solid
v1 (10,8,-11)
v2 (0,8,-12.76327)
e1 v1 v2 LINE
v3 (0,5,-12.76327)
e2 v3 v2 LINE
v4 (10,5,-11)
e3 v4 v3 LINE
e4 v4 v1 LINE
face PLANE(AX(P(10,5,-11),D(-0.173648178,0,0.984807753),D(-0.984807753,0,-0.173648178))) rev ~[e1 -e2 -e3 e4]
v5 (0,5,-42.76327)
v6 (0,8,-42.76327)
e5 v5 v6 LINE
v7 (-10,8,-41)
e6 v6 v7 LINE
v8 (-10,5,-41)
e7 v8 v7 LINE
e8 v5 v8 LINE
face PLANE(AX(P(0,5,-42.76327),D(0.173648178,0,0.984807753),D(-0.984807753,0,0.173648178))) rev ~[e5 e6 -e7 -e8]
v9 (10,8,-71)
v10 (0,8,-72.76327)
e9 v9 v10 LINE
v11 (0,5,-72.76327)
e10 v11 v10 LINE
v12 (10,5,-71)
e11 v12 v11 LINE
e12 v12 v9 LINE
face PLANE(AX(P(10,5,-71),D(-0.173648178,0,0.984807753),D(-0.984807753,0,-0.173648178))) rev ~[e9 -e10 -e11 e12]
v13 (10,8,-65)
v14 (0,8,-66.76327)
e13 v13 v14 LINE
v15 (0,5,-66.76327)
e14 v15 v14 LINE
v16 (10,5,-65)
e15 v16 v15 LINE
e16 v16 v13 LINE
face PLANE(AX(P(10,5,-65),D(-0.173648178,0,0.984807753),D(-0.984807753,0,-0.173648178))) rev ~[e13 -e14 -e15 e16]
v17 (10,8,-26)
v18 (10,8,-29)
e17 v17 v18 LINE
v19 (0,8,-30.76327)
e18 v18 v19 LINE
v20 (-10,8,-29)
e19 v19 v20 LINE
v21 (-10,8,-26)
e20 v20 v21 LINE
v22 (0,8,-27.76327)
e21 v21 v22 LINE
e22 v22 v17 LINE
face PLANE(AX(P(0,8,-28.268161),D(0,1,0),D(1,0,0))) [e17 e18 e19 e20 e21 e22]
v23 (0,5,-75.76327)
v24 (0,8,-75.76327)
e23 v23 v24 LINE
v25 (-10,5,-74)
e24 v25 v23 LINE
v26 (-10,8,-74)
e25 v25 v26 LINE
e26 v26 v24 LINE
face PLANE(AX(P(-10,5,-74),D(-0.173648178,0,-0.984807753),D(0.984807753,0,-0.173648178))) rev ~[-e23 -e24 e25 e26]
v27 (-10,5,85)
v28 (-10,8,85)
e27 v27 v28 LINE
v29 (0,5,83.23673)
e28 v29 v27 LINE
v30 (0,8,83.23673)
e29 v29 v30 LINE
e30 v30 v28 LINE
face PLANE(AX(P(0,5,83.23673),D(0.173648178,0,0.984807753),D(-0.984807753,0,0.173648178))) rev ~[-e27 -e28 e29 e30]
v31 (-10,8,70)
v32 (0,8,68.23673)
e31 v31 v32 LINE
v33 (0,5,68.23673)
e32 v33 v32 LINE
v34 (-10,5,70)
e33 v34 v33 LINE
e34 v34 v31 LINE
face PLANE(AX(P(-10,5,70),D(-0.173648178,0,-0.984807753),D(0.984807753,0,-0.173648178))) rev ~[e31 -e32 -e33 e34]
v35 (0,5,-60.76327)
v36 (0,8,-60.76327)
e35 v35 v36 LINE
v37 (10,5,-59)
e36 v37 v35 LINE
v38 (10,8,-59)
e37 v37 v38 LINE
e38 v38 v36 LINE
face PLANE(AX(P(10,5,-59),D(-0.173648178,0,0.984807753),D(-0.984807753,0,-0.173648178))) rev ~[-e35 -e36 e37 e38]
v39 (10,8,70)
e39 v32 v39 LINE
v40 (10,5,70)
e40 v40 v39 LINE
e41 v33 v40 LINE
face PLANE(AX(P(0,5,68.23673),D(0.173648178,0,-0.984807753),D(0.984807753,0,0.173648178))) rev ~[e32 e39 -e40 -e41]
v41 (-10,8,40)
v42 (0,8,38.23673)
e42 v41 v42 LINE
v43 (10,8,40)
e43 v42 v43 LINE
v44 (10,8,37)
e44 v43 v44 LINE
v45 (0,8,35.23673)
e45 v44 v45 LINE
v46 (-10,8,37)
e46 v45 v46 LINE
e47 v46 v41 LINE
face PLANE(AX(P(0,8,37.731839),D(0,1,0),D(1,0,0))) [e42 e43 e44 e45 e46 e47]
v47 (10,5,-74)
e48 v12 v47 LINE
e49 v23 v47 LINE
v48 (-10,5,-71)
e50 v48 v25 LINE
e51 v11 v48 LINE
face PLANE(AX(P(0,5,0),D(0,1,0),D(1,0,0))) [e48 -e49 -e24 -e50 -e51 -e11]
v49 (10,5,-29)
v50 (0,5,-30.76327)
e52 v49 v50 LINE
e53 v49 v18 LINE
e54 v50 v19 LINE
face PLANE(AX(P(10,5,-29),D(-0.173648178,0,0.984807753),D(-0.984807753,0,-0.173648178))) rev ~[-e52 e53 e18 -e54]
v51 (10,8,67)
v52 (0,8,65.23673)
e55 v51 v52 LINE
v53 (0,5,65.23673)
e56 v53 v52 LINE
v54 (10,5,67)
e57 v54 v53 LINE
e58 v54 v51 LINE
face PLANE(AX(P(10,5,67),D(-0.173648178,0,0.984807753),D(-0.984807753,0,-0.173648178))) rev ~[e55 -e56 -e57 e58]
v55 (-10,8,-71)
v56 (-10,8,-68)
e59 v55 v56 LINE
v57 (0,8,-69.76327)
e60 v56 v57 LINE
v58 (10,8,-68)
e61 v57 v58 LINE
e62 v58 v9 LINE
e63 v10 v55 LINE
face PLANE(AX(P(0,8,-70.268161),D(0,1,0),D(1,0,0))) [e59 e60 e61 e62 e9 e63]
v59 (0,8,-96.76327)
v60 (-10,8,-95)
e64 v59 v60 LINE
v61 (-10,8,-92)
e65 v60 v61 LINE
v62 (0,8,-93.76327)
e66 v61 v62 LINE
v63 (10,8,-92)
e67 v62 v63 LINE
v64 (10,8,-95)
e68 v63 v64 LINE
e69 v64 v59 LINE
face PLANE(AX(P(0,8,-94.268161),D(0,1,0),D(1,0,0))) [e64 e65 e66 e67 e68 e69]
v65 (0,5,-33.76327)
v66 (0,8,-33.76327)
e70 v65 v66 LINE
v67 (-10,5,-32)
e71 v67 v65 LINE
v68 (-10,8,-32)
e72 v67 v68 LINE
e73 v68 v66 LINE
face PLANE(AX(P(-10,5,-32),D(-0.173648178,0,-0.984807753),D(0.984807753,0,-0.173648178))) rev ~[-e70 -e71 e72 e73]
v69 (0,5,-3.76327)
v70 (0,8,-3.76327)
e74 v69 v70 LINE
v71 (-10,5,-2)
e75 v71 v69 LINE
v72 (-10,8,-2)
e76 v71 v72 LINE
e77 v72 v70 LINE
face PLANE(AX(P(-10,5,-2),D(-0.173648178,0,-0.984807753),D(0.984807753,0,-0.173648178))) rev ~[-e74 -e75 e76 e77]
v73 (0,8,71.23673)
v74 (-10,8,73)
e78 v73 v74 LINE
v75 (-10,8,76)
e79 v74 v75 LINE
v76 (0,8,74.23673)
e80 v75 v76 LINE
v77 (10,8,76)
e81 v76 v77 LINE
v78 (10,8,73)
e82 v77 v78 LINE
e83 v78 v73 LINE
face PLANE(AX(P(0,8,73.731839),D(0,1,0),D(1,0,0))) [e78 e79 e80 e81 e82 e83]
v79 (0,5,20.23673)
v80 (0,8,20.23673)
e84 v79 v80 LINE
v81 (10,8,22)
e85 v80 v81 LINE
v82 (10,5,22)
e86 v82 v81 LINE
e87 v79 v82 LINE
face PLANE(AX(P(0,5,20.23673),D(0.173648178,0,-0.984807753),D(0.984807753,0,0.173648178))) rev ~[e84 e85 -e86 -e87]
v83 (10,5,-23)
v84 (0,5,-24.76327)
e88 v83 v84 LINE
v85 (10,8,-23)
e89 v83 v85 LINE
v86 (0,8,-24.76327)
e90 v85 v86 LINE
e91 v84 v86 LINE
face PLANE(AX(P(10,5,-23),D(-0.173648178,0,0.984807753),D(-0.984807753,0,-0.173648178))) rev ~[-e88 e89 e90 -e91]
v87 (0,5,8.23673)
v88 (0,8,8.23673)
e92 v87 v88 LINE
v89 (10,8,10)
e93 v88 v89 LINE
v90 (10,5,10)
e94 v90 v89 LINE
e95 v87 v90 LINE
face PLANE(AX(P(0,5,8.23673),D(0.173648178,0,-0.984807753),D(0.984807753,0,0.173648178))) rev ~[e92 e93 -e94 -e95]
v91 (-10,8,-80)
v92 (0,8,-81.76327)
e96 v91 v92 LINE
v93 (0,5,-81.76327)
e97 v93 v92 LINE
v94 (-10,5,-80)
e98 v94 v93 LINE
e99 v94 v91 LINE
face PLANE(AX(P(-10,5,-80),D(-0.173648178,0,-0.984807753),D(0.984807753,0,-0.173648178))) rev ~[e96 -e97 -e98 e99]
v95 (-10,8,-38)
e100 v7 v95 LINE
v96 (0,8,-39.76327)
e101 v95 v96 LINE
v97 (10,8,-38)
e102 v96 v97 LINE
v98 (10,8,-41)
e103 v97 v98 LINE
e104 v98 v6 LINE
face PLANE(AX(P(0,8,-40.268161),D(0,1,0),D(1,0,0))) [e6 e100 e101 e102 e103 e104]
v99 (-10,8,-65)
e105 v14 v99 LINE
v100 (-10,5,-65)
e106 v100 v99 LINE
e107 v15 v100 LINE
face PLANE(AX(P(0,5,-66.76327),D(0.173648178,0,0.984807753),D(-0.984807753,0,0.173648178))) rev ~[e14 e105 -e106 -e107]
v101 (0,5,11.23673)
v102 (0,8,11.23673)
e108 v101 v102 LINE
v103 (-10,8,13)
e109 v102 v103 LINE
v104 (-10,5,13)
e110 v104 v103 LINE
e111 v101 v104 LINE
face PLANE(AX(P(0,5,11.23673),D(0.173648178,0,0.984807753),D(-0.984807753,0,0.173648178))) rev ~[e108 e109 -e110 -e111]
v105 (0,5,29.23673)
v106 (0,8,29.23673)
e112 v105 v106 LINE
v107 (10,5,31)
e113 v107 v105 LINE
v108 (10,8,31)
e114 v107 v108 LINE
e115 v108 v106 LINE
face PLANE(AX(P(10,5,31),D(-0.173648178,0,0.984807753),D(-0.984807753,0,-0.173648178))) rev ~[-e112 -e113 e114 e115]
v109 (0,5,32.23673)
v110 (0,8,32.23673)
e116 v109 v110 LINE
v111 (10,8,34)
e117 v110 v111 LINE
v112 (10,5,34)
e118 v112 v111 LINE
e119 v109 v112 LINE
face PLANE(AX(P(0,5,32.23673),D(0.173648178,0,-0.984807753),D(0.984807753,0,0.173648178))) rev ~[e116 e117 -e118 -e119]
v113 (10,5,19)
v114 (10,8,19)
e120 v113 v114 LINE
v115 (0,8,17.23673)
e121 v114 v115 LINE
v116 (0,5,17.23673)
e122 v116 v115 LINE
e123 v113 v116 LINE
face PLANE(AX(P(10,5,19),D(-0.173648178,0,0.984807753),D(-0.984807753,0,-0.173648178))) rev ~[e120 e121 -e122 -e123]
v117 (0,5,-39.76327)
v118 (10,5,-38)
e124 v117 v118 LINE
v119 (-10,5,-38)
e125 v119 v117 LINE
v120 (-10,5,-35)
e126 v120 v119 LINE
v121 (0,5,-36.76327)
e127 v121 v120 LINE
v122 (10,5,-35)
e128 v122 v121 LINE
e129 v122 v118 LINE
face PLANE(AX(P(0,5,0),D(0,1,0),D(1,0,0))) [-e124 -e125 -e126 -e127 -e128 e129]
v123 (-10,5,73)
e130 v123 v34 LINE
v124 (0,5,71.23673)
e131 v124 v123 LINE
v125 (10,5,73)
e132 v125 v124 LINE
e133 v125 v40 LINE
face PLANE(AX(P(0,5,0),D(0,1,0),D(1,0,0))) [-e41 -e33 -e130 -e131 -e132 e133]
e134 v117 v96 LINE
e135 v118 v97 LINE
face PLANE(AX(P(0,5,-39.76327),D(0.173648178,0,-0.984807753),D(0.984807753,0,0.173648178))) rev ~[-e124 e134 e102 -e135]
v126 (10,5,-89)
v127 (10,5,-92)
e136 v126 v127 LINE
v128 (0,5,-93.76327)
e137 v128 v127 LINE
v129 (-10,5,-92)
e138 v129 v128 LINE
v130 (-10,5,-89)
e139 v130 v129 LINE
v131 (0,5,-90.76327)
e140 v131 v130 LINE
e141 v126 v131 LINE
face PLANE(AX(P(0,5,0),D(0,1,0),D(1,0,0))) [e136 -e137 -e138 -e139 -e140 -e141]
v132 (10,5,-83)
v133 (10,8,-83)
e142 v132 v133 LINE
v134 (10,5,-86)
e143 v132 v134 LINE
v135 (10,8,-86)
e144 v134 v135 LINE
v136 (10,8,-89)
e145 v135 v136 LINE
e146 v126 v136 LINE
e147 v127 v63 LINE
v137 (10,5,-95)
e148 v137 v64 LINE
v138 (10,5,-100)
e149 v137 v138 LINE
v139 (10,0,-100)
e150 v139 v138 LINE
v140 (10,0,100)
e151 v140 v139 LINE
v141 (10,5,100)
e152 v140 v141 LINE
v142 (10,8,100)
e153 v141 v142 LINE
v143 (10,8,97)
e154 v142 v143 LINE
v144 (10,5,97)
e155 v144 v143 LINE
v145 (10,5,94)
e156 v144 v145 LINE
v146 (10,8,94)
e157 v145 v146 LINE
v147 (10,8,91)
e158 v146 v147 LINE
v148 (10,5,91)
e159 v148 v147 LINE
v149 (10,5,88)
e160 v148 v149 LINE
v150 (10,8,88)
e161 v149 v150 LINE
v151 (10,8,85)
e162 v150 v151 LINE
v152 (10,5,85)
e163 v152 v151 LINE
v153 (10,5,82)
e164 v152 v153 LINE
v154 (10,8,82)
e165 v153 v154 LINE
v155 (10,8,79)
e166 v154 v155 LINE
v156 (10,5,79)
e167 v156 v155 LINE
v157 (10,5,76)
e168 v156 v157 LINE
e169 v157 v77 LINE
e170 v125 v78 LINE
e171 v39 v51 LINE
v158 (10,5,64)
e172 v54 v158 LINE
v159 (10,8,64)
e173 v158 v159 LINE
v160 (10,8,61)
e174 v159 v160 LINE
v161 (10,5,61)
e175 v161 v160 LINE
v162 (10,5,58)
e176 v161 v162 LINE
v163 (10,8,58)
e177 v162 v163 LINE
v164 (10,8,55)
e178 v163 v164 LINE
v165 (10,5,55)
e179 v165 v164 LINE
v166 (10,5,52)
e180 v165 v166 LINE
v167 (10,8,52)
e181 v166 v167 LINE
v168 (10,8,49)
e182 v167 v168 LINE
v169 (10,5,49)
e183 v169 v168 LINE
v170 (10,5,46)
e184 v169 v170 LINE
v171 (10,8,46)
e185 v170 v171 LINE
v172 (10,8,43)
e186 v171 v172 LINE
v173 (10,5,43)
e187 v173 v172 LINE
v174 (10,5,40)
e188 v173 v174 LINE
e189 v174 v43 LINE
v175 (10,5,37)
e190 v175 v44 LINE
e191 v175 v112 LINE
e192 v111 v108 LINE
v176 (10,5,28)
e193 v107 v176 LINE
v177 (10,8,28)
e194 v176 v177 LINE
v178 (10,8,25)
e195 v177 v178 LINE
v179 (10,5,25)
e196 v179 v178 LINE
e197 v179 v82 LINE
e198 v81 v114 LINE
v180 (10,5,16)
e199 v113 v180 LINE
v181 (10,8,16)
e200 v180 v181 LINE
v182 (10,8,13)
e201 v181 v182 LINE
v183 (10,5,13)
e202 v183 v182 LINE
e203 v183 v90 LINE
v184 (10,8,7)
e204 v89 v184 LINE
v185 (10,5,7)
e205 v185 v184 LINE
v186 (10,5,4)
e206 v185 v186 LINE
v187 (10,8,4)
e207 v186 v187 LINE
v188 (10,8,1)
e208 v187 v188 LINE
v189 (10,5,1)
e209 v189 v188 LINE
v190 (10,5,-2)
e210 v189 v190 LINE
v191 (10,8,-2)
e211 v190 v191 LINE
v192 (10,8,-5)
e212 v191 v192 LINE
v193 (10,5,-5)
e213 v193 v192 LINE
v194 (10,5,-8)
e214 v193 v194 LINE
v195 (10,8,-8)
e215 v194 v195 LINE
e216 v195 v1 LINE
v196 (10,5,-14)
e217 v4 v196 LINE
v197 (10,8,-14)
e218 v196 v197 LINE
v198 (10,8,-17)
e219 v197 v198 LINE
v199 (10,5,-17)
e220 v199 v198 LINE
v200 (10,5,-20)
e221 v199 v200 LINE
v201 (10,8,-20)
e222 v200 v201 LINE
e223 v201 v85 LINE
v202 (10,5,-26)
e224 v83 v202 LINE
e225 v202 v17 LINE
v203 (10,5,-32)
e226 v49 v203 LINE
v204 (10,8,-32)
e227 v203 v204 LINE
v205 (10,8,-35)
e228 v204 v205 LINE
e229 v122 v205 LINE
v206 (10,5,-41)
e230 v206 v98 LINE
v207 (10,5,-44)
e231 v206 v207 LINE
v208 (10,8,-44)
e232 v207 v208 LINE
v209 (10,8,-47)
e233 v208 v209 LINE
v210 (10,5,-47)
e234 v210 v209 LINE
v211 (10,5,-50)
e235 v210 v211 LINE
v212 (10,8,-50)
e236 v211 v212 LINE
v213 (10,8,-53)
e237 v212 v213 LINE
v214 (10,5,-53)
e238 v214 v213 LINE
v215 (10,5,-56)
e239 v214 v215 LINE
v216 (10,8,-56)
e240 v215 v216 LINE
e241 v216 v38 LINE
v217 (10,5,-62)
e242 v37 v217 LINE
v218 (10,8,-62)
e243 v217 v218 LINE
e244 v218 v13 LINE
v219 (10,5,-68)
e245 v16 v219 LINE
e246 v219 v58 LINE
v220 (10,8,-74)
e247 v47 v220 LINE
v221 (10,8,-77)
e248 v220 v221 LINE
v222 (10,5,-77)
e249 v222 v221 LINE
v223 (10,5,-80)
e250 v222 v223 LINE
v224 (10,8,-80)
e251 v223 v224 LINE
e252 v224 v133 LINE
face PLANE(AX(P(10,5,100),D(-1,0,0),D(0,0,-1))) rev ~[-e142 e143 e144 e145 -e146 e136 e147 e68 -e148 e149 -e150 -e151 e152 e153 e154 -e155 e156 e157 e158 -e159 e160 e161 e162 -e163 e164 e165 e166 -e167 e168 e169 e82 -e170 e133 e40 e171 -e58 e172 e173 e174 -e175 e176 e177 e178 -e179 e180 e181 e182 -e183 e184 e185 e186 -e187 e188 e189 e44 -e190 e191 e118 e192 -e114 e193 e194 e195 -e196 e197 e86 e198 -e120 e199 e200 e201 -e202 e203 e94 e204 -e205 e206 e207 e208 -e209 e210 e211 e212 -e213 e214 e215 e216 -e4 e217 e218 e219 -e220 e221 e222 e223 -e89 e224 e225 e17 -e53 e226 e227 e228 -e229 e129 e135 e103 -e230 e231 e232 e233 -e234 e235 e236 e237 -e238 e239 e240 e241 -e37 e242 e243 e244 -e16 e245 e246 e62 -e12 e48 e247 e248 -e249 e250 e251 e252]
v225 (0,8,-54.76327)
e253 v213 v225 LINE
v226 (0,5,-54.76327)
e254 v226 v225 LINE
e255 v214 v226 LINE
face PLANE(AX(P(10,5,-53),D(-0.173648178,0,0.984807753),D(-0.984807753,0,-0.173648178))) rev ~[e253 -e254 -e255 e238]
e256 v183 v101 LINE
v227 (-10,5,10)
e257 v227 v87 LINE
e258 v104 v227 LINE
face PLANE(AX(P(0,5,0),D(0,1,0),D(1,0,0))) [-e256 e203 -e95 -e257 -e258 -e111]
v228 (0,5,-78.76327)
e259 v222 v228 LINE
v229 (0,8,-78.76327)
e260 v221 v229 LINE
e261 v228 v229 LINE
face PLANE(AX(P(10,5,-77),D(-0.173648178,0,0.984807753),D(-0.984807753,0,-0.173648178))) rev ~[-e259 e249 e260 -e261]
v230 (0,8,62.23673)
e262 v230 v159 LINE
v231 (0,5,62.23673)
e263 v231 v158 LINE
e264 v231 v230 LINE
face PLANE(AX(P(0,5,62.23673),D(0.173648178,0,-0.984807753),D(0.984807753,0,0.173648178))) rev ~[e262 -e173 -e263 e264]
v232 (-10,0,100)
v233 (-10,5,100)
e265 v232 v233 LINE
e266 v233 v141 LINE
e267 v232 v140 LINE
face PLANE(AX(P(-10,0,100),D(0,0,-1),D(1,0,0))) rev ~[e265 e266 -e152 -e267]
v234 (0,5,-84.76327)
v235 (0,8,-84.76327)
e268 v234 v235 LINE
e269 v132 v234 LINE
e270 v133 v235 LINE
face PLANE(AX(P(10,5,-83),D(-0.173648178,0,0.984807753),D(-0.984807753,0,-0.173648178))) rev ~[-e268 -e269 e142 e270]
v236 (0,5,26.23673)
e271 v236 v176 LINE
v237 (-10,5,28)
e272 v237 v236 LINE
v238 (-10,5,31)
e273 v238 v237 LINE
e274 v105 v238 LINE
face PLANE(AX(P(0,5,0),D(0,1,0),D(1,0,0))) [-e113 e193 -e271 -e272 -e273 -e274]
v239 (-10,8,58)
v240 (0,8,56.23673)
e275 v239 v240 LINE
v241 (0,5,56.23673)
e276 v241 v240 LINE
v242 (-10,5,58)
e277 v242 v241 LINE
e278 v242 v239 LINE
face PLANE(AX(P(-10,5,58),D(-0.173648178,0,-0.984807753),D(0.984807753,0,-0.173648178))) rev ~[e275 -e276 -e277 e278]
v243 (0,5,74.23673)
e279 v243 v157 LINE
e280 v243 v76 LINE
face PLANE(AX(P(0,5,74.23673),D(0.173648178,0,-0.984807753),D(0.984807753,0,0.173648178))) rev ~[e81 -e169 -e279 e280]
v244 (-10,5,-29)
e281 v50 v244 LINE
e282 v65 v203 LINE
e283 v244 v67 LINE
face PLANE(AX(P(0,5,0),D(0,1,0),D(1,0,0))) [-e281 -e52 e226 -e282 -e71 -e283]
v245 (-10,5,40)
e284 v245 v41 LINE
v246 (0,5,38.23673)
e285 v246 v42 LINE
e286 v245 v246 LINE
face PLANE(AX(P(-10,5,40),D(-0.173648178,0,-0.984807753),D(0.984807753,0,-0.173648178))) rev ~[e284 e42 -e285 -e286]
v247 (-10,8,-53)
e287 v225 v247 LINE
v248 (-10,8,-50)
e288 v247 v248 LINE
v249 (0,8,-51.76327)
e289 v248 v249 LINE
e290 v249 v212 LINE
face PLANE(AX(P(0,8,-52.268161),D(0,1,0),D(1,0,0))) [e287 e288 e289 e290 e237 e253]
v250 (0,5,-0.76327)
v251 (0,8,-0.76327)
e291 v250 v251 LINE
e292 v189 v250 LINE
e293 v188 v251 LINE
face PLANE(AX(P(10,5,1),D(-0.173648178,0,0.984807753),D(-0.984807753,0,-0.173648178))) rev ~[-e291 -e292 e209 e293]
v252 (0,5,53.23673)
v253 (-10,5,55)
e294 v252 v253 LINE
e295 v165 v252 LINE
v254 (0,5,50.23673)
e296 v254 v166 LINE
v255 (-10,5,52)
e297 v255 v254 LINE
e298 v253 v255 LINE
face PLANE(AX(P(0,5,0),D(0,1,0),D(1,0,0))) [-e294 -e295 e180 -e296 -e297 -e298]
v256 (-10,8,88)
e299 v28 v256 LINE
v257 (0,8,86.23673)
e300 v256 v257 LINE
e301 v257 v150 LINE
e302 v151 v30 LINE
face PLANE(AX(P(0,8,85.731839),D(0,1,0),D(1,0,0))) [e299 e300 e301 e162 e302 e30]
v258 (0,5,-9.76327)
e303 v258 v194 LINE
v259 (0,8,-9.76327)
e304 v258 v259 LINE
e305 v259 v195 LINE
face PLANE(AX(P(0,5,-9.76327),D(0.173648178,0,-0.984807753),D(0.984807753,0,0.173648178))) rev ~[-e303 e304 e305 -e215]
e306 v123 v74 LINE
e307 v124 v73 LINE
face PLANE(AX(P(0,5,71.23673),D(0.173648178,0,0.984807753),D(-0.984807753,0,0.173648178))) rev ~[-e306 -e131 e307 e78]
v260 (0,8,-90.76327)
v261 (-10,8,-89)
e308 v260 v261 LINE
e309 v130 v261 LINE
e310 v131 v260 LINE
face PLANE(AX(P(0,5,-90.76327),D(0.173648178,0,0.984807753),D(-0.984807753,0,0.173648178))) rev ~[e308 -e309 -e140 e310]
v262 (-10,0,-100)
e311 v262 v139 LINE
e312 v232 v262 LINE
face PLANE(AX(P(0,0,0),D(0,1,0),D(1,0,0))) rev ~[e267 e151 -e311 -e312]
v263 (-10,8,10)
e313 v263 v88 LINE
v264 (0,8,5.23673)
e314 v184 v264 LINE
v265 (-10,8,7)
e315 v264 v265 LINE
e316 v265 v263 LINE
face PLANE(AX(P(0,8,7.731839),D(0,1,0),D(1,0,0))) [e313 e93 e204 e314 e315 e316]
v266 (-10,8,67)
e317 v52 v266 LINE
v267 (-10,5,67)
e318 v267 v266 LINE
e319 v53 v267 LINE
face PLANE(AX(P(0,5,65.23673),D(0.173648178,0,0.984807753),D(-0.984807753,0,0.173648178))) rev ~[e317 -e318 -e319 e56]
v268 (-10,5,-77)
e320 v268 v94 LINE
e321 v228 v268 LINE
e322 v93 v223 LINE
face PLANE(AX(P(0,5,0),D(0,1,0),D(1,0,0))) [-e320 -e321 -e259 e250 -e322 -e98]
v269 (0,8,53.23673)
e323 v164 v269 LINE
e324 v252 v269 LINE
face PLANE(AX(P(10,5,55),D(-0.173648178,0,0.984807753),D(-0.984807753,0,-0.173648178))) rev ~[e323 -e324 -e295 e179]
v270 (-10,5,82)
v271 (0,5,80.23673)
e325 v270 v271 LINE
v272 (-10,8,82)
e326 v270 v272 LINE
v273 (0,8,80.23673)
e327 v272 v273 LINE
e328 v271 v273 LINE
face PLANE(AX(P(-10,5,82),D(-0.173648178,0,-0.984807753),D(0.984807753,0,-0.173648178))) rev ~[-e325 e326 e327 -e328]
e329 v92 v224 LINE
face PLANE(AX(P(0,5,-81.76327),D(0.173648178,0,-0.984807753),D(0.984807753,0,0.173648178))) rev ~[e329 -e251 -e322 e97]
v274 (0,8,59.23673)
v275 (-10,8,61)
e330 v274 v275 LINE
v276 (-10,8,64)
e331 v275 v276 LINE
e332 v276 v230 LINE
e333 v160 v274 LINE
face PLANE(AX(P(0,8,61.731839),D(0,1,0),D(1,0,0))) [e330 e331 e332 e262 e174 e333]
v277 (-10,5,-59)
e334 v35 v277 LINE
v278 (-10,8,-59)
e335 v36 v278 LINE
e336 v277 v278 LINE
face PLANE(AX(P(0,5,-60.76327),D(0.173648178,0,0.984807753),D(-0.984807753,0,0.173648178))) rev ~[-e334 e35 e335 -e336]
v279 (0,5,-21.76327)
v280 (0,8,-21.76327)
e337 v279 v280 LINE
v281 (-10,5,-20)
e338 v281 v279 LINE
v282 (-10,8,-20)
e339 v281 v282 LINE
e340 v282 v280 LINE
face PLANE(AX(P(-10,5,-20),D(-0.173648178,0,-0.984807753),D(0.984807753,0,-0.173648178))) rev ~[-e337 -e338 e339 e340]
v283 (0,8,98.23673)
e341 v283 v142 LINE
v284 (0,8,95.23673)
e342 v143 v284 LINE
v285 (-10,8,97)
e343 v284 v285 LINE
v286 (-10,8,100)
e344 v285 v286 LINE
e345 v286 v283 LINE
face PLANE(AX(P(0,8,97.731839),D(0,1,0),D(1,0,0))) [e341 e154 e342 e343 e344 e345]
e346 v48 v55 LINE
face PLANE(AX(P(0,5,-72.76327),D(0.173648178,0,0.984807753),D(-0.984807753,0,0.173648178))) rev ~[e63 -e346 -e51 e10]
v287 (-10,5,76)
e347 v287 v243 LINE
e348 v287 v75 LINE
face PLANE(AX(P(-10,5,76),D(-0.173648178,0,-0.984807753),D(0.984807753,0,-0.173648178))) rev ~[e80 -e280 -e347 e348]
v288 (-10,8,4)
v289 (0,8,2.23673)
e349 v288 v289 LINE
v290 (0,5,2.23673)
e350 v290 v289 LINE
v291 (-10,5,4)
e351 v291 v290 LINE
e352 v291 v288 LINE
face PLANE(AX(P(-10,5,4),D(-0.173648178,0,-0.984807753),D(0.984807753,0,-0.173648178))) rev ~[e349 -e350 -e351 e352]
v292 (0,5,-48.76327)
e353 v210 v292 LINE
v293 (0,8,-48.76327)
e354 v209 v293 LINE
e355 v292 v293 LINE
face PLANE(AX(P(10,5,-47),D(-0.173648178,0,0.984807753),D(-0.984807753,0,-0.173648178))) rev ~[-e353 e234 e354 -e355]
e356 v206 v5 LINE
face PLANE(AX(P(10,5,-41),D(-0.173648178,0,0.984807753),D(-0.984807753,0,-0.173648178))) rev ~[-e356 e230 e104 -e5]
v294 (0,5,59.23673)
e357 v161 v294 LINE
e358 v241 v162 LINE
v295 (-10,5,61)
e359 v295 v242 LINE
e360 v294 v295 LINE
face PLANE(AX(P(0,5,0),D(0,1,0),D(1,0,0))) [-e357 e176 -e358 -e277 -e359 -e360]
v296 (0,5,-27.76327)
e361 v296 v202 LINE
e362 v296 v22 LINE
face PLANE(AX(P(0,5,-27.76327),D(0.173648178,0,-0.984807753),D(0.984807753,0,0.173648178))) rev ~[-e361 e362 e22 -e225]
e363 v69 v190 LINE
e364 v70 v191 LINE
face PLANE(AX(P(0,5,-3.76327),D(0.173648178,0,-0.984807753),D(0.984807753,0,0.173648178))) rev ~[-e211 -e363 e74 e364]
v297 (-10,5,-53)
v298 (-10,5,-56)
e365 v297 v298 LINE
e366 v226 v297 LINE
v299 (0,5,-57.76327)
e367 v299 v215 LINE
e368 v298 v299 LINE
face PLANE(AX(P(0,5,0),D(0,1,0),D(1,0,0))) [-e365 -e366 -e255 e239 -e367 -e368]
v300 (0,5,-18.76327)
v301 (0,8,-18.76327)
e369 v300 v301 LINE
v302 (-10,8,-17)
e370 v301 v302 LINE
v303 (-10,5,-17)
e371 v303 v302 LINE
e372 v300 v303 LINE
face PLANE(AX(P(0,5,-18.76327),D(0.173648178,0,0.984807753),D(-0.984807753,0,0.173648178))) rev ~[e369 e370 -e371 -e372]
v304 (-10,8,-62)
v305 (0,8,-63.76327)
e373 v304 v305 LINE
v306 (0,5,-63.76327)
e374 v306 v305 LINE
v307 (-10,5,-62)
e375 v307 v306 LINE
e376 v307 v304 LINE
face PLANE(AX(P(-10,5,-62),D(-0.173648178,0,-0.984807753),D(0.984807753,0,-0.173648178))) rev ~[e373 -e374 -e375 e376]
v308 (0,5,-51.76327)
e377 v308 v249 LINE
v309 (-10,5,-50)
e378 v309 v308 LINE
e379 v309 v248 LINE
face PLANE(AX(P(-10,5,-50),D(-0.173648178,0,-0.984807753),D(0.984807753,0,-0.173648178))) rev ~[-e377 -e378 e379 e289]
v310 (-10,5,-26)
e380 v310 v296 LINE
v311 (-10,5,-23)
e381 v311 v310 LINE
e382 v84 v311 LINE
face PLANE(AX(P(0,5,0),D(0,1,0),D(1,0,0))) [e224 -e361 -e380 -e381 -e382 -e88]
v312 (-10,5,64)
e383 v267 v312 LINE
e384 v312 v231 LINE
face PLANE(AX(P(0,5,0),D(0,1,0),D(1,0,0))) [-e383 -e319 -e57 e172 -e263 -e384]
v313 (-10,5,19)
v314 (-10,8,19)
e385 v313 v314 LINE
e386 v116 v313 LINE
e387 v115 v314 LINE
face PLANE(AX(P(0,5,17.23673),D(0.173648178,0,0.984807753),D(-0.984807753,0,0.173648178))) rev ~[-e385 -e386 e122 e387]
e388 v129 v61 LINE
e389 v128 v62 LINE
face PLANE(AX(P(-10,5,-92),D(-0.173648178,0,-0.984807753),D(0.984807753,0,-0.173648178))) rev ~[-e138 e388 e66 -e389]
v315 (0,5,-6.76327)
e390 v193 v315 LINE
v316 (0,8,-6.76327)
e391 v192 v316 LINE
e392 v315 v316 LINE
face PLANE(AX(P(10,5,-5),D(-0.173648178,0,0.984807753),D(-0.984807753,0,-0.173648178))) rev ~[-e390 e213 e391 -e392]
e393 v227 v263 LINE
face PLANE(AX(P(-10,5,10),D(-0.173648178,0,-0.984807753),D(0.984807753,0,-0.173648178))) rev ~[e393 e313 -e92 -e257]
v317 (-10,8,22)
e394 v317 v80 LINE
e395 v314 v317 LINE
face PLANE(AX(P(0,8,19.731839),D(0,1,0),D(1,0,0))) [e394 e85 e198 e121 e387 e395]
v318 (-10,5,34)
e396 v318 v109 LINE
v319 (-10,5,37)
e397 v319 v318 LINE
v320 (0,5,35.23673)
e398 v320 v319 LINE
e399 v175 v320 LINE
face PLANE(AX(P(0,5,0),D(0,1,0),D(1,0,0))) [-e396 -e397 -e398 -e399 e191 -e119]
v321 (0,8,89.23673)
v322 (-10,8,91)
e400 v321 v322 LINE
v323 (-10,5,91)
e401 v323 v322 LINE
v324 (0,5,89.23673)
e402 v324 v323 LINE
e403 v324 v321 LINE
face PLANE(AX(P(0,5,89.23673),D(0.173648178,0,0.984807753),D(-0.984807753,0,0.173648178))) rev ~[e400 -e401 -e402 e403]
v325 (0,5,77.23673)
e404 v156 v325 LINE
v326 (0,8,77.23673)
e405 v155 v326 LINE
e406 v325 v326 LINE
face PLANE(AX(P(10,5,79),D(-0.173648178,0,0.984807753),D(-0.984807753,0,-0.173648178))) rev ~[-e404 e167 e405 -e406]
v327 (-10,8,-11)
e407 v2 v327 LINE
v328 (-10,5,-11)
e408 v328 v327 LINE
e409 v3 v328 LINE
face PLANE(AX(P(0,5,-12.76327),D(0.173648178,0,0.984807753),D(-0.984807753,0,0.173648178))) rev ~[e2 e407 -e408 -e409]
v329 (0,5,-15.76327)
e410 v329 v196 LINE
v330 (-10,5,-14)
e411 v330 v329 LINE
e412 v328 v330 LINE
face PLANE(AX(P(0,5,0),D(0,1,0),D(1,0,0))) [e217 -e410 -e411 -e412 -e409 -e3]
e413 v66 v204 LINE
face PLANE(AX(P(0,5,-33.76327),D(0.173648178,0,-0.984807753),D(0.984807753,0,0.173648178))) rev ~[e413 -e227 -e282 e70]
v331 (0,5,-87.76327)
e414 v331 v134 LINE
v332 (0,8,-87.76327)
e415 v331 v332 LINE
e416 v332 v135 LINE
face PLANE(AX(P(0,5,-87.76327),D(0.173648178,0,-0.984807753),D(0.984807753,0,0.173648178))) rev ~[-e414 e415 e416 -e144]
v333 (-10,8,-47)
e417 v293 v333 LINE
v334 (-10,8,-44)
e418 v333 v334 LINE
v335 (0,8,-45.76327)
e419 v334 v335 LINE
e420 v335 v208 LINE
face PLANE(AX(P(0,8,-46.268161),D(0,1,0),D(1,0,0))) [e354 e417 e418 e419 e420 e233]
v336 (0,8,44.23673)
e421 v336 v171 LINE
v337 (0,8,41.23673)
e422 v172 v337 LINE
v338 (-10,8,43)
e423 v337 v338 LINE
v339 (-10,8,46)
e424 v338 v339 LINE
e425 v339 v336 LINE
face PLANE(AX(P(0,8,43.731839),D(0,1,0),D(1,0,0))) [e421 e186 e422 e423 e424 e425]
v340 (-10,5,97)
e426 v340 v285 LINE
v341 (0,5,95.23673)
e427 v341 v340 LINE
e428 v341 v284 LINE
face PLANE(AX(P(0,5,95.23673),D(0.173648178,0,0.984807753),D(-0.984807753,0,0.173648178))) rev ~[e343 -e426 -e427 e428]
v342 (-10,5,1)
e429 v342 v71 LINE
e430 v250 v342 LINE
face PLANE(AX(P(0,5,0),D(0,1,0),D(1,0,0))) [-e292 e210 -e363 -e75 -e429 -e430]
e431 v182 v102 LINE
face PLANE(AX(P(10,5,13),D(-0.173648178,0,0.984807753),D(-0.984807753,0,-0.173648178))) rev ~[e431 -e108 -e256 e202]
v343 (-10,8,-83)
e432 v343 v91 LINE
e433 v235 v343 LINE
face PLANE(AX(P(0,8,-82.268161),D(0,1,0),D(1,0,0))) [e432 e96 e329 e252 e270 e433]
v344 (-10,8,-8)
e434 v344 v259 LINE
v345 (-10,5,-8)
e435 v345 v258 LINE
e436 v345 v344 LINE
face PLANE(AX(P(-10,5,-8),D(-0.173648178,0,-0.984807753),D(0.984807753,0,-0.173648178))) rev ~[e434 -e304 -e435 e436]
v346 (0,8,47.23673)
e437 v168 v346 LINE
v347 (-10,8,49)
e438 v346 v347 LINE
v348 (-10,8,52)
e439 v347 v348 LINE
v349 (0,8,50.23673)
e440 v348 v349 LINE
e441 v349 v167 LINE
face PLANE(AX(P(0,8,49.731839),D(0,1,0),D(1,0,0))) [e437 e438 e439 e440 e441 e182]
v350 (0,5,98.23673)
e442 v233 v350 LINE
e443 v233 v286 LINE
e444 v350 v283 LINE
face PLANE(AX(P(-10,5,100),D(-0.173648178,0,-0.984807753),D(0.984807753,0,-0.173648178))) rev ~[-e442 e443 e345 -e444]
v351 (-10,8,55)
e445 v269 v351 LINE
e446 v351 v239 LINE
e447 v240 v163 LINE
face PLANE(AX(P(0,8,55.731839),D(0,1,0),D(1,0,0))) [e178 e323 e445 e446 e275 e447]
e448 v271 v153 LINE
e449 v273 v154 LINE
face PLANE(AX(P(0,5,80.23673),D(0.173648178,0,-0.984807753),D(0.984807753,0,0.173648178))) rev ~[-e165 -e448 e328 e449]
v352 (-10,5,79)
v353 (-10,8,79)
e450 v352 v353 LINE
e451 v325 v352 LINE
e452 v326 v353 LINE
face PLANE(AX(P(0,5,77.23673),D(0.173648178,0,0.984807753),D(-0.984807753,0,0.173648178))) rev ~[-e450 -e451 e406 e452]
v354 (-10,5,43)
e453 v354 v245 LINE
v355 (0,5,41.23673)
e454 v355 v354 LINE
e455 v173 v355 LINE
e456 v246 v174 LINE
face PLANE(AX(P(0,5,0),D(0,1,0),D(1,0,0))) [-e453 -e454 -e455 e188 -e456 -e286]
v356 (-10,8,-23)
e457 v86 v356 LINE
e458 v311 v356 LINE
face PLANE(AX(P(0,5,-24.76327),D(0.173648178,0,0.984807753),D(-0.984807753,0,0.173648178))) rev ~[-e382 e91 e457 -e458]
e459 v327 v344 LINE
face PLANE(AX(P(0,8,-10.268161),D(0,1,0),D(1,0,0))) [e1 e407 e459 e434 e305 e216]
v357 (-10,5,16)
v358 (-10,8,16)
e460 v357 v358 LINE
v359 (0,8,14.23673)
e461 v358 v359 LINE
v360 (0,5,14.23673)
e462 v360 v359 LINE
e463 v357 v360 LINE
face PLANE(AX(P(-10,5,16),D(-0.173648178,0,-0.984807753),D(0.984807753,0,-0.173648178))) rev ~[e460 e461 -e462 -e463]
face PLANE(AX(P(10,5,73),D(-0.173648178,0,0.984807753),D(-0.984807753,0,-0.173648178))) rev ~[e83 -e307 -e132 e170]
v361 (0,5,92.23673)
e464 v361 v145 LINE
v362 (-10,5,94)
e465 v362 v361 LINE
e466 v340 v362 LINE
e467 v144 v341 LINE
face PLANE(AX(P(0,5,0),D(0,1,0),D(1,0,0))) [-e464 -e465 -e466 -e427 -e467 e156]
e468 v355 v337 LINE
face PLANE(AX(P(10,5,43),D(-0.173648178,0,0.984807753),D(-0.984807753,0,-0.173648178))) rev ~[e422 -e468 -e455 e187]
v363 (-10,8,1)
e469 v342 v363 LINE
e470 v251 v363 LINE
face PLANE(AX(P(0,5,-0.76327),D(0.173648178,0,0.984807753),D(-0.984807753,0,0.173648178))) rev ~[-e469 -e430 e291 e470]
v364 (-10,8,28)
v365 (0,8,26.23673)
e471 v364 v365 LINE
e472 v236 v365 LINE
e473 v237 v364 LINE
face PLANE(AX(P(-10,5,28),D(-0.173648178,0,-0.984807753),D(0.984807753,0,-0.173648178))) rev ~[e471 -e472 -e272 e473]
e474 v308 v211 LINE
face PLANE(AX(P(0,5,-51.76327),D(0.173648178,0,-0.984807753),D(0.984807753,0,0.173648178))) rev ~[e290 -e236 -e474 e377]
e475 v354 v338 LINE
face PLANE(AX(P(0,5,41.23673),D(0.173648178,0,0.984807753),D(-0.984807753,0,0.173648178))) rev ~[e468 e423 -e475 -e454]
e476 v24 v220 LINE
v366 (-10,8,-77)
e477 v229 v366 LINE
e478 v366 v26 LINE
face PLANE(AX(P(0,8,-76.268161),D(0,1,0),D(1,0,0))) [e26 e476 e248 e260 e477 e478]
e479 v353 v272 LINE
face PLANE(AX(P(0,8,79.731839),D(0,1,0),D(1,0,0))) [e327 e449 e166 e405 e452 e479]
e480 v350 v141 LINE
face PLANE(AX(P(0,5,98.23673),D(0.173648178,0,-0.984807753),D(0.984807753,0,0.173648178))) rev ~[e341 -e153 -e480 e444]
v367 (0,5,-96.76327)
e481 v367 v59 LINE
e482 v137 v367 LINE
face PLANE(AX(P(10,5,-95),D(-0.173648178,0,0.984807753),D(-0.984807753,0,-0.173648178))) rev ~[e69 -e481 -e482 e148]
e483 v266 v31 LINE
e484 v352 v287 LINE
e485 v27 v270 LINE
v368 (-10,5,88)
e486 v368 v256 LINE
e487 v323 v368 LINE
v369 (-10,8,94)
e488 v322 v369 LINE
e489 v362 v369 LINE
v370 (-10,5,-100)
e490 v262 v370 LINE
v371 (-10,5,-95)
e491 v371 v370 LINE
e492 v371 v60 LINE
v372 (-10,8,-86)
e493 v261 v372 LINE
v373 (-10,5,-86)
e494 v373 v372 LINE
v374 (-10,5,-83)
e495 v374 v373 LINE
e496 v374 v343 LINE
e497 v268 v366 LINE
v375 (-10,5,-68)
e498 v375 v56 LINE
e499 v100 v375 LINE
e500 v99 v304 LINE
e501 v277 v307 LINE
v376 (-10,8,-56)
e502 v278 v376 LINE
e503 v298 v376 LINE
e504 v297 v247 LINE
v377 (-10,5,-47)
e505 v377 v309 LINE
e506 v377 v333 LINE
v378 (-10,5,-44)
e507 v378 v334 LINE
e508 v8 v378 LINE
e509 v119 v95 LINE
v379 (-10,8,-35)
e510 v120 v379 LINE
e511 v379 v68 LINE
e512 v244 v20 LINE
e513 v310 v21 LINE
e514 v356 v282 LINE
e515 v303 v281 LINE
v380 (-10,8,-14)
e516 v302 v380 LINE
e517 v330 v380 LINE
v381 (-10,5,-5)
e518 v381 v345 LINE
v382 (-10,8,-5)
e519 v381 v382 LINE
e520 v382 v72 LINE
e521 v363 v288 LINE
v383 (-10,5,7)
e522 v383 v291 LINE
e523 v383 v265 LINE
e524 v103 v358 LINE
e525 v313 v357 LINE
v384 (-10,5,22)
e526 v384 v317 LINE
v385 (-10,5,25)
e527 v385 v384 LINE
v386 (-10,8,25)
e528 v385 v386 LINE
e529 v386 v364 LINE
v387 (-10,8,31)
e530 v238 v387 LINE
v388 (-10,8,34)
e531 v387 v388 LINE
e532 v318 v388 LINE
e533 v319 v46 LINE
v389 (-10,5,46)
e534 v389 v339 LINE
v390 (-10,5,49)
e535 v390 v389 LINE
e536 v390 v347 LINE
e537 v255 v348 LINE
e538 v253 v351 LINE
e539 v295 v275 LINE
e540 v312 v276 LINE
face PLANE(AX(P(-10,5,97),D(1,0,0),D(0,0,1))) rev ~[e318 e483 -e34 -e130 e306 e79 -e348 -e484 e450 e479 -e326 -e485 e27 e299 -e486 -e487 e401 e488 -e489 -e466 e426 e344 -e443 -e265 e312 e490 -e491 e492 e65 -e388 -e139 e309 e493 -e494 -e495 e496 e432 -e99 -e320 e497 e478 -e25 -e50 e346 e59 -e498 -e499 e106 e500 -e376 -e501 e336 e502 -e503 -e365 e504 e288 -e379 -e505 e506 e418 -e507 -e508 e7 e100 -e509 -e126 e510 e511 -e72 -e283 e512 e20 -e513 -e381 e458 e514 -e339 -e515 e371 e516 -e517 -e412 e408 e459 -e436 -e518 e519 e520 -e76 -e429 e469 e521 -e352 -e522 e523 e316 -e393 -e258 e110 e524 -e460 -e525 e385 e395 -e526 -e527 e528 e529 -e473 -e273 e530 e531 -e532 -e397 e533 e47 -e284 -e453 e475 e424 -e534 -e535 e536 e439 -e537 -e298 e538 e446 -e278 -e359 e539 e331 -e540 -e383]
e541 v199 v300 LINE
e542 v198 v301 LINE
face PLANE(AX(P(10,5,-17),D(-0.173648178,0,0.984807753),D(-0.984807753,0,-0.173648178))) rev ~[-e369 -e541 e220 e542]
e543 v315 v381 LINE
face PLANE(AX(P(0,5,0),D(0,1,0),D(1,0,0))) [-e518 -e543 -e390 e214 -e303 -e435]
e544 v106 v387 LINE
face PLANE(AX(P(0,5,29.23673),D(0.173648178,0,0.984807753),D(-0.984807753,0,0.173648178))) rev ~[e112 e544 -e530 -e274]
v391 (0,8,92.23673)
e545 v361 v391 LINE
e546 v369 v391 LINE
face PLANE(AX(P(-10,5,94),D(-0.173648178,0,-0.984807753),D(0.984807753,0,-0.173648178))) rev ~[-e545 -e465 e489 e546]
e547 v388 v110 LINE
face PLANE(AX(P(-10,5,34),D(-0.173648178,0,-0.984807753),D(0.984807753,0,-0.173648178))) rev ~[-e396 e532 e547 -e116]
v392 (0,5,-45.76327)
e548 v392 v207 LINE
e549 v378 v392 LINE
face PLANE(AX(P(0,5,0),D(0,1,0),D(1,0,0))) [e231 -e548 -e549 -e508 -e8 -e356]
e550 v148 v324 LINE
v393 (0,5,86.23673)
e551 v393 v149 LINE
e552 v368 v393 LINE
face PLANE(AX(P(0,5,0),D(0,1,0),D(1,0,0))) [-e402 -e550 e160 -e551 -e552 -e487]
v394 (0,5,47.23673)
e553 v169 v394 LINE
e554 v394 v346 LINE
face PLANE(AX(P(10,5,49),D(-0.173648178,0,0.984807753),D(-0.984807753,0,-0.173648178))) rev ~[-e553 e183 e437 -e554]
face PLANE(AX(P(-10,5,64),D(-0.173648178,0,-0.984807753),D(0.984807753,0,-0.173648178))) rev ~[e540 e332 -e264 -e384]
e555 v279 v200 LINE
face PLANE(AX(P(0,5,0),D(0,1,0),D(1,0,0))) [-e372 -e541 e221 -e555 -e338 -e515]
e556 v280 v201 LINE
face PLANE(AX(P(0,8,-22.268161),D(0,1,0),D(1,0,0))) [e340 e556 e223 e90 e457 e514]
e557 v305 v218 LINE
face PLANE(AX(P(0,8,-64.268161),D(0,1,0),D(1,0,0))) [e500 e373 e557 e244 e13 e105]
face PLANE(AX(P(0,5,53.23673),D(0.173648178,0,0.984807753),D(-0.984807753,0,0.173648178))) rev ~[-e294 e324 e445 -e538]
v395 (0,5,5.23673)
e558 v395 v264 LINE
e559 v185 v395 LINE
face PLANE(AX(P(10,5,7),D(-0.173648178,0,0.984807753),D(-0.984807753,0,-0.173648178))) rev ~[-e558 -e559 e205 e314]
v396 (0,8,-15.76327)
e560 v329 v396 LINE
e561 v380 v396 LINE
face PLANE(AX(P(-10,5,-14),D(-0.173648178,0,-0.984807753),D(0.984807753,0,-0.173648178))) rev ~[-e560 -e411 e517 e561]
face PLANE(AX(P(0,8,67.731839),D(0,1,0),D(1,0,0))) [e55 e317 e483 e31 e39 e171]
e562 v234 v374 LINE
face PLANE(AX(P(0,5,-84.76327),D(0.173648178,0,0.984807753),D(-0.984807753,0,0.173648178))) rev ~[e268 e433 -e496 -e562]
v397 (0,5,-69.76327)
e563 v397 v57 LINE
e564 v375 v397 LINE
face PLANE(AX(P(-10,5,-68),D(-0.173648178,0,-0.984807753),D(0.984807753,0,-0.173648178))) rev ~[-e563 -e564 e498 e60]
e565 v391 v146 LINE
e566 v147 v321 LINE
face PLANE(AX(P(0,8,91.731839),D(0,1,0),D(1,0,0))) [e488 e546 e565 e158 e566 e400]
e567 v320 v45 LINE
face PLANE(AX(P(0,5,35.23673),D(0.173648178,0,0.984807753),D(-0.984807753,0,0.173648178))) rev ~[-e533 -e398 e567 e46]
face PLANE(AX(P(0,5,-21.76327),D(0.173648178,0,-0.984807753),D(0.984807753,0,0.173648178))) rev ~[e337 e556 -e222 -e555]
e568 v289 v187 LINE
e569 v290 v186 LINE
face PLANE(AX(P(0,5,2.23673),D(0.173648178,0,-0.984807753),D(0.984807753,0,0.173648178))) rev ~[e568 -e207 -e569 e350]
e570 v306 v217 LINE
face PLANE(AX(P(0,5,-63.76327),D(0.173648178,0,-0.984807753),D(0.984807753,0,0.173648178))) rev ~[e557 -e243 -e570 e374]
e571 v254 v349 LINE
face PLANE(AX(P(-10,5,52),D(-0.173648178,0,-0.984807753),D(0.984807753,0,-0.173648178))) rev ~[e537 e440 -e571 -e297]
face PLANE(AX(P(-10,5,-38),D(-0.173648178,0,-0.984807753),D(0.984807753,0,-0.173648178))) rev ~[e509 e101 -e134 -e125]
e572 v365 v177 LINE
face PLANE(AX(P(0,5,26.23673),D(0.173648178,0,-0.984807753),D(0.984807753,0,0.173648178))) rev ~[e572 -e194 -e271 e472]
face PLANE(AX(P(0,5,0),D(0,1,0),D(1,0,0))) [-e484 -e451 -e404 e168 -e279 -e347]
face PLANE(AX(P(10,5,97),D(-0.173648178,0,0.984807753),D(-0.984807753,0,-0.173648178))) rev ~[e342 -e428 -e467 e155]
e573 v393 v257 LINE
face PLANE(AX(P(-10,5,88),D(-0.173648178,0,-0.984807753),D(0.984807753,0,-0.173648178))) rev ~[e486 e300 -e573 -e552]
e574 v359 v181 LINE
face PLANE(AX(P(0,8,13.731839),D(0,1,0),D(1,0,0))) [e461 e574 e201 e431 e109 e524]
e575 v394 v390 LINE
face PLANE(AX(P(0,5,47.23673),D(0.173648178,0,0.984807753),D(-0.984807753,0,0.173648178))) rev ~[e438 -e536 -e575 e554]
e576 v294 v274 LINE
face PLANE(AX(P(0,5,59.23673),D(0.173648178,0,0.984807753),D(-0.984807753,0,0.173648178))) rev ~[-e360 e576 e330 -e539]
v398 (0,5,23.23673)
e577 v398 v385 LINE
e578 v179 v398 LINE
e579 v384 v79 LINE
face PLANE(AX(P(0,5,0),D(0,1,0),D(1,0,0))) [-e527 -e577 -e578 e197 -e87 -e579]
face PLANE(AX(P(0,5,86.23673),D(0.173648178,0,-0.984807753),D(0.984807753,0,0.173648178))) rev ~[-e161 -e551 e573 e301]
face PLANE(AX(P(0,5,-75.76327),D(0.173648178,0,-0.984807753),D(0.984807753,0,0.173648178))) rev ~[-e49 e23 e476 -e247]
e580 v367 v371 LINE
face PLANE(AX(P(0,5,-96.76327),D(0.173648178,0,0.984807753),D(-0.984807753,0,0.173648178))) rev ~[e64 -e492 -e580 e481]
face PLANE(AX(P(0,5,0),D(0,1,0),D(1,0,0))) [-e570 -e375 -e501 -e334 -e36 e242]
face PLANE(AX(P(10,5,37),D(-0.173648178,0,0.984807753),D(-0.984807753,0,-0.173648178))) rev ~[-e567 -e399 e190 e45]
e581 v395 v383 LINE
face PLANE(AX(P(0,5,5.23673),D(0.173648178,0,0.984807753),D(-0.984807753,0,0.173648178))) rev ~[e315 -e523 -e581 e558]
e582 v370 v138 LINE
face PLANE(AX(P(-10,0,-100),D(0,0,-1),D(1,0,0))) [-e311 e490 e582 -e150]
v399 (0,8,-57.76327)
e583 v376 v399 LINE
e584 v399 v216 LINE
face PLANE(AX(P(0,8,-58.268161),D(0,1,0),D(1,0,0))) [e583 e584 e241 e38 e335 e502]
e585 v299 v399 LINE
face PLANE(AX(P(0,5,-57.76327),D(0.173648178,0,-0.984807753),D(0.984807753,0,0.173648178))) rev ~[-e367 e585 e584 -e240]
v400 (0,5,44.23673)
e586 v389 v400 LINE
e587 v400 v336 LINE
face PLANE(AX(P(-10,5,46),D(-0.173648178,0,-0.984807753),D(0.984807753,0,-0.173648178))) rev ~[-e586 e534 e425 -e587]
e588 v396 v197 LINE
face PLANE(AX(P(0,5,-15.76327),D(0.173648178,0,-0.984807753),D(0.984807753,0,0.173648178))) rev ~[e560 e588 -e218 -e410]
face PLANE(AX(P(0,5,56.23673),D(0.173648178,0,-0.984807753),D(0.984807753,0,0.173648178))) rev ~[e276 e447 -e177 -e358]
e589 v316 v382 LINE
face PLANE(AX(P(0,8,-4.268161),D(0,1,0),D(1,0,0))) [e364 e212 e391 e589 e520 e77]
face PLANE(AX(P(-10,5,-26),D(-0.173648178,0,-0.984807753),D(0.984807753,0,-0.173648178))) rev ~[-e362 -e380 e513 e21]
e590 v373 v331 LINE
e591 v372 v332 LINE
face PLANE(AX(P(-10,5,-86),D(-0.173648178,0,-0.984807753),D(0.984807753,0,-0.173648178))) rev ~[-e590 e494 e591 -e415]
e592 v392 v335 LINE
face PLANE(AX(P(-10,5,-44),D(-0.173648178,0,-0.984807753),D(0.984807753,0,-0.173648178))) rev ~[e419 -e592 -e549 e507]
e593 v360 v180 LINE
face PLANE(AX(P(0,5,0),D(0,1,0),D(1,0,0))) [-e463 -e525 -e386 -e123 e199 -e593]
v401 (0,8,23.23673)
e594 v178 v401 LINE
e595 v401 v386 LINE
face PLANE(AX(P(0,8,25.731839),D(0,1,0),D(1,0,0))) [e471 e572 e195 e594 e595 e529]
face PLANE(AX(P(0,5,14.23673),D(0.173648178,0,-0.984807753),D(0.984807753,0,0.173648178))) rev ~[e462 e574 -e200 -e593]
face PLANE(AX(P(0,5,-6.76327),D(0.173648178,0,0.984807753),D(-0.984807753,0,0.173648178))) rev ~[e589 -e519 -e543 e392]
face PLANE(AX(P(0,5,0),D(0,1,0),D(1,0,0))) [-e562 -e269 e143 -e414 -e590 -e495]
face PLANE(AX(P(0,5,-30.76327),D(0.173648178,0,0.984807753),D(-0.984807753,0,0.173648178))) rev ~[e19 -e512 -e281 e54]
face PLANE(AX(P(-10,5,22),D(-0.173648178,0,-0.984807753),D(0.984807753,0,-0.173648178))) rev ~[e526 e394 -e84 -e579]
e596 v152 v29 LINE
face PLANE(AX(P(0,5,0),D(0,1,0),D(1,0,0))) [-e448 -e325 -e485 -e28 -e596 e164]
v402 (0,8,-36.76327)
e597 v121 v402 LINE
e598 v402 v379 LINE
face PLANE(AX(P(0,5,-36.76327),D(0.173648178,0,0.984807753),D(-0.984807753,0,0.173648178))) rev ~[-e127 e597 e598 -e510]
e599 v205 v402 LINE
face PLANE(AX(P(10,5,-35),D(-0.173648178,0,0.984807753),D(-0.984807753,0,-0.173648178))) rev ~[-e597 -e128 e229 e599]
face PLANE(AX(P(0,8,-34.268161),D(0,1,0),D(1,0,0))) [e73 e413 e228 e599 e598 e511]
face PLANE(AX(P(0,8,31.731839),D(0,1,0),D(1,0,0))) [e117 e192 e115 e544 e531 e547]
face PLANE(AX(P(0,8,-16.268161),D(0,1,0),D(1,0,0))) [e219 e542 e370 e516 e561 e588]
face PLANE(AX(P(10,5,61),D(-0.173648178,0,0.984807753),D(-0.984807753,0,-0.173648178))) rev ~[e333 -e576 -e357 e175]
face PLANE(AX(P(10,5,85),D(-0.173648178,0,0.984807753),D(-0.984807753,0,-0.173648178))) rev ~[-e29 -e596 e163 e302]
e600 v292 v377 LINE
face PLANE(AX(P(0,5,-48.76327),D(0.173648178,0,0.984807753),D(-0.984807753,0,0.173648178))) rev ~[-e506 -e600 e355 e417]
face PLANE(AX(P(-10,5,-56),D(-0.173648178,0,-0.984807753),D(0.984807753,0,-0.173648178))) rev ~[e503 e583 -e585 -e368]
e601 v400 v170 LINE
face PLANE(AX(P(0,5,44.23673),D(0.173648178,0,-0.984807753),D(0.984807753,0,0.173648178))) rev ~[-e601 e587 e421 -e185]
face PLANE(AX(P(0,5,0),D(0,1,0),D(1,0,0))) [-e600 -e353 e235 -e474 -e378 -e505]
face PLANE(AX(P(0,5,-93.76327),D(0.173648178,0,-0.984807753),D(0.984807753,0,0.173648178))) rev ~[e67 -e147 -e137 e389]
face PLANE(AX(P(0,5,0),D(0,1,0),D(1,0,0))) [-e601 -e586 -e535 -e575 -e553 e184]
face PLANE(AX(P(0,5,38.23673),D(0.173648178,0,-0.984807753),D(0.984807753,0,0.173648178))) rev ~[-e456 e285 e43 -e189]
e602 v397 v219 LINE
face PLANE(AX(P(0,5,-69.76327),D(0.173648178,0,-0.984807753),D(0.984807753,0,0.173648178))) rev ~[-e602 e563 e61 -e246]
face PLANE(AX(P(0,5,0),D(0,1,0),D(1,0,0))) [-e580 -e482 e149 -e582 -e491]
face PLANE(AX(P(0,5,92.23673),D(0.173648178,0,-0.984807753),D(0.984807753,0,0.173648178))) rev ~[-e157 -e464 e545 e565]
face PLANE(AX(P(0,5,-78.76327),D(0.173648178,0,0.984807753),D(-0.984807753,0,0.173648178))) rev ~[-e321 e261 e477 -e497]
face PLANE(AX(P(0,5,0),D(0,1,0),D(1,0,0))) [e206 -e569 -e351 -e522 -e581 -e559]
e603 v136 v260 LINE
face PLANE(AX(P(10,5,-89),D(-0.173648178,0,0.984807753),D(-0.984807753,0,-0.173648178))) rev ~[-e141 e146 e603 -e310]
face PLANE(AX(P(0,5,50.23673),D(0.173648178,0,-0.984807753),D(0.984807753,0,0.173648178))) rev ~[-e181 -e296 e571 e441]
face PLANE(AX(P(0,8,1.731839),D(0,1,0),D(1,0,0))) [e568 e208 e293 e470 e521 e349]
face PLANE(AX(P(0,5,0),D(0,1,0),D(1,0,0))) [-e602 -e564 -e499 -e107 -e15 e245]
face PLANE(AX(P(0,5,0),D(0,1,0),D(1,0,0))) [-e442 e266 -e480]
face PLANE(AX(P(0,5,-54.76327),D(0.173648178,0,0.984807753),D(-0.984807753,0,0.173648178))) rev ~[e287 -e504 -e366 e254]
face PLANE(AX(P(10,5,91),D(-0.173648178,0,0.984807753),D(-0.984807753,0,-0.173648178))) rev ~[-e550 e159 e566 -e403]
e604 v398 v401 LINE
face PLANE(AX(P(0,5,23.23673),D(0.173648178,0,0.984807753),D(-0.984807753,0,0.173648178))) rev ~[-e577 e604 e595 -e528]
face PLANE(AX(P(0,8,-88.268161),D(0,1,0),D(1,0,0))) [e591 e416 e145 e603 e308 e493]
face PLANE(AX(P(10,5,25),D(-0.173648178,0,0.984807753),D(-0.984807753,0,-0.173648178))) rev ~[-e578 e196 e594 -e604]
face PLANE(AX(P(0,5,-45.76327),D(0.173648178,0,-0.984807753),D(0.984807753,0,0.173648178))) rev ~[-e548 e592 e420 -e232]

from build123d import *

# Parameters (mm, degrees)
SKETCH2_W           = 20
SKETCH2_H           = 200
BOSS_EXTRUDE1_DEPTH = 5
BOSS_EXTRUDE2_DEPTH = 3
LPATTERN1_COUNT     = 33
LPATTERN1_PITCH     = 6


with BuildPart() as part:
    # Sketch2 → Boss-Extrude1 (new body)
    with BuildSketch(Plane(origin=(0, 0, 0), x_dir=(1, 0, 0), z_dir=(0, 1, 0))):
        Rectangle(SKETCH2_W, SKETCH2_H)
    extrude(amount=BOSS_EXTRUDE1_DEPTH)

    # Sketch3 → Boss-Extrude2 (add)
    with BuildSketch(Plane(origin=(0, 5, 0), x_dir=(1, 0, 0), z_dir=(0, 1, 0))):
        Polygon((-10, -100), (0, -98.236730193), (10, -100), (10, -97), (0, -95.236730193), (-10, -97), align=None)
    boss_extrude2 = extrude(amount=BOSS_EXTRUDE2_DEPTH)

    # LPattern1: Boss-Extrude2 ×33
    with Locations(*[(0, 0, -i * LPATTERN1_PITCH) for i in range(1, LPATTERN1_COUNT)]):
        add(boss_extrude2)


solid = part.part
